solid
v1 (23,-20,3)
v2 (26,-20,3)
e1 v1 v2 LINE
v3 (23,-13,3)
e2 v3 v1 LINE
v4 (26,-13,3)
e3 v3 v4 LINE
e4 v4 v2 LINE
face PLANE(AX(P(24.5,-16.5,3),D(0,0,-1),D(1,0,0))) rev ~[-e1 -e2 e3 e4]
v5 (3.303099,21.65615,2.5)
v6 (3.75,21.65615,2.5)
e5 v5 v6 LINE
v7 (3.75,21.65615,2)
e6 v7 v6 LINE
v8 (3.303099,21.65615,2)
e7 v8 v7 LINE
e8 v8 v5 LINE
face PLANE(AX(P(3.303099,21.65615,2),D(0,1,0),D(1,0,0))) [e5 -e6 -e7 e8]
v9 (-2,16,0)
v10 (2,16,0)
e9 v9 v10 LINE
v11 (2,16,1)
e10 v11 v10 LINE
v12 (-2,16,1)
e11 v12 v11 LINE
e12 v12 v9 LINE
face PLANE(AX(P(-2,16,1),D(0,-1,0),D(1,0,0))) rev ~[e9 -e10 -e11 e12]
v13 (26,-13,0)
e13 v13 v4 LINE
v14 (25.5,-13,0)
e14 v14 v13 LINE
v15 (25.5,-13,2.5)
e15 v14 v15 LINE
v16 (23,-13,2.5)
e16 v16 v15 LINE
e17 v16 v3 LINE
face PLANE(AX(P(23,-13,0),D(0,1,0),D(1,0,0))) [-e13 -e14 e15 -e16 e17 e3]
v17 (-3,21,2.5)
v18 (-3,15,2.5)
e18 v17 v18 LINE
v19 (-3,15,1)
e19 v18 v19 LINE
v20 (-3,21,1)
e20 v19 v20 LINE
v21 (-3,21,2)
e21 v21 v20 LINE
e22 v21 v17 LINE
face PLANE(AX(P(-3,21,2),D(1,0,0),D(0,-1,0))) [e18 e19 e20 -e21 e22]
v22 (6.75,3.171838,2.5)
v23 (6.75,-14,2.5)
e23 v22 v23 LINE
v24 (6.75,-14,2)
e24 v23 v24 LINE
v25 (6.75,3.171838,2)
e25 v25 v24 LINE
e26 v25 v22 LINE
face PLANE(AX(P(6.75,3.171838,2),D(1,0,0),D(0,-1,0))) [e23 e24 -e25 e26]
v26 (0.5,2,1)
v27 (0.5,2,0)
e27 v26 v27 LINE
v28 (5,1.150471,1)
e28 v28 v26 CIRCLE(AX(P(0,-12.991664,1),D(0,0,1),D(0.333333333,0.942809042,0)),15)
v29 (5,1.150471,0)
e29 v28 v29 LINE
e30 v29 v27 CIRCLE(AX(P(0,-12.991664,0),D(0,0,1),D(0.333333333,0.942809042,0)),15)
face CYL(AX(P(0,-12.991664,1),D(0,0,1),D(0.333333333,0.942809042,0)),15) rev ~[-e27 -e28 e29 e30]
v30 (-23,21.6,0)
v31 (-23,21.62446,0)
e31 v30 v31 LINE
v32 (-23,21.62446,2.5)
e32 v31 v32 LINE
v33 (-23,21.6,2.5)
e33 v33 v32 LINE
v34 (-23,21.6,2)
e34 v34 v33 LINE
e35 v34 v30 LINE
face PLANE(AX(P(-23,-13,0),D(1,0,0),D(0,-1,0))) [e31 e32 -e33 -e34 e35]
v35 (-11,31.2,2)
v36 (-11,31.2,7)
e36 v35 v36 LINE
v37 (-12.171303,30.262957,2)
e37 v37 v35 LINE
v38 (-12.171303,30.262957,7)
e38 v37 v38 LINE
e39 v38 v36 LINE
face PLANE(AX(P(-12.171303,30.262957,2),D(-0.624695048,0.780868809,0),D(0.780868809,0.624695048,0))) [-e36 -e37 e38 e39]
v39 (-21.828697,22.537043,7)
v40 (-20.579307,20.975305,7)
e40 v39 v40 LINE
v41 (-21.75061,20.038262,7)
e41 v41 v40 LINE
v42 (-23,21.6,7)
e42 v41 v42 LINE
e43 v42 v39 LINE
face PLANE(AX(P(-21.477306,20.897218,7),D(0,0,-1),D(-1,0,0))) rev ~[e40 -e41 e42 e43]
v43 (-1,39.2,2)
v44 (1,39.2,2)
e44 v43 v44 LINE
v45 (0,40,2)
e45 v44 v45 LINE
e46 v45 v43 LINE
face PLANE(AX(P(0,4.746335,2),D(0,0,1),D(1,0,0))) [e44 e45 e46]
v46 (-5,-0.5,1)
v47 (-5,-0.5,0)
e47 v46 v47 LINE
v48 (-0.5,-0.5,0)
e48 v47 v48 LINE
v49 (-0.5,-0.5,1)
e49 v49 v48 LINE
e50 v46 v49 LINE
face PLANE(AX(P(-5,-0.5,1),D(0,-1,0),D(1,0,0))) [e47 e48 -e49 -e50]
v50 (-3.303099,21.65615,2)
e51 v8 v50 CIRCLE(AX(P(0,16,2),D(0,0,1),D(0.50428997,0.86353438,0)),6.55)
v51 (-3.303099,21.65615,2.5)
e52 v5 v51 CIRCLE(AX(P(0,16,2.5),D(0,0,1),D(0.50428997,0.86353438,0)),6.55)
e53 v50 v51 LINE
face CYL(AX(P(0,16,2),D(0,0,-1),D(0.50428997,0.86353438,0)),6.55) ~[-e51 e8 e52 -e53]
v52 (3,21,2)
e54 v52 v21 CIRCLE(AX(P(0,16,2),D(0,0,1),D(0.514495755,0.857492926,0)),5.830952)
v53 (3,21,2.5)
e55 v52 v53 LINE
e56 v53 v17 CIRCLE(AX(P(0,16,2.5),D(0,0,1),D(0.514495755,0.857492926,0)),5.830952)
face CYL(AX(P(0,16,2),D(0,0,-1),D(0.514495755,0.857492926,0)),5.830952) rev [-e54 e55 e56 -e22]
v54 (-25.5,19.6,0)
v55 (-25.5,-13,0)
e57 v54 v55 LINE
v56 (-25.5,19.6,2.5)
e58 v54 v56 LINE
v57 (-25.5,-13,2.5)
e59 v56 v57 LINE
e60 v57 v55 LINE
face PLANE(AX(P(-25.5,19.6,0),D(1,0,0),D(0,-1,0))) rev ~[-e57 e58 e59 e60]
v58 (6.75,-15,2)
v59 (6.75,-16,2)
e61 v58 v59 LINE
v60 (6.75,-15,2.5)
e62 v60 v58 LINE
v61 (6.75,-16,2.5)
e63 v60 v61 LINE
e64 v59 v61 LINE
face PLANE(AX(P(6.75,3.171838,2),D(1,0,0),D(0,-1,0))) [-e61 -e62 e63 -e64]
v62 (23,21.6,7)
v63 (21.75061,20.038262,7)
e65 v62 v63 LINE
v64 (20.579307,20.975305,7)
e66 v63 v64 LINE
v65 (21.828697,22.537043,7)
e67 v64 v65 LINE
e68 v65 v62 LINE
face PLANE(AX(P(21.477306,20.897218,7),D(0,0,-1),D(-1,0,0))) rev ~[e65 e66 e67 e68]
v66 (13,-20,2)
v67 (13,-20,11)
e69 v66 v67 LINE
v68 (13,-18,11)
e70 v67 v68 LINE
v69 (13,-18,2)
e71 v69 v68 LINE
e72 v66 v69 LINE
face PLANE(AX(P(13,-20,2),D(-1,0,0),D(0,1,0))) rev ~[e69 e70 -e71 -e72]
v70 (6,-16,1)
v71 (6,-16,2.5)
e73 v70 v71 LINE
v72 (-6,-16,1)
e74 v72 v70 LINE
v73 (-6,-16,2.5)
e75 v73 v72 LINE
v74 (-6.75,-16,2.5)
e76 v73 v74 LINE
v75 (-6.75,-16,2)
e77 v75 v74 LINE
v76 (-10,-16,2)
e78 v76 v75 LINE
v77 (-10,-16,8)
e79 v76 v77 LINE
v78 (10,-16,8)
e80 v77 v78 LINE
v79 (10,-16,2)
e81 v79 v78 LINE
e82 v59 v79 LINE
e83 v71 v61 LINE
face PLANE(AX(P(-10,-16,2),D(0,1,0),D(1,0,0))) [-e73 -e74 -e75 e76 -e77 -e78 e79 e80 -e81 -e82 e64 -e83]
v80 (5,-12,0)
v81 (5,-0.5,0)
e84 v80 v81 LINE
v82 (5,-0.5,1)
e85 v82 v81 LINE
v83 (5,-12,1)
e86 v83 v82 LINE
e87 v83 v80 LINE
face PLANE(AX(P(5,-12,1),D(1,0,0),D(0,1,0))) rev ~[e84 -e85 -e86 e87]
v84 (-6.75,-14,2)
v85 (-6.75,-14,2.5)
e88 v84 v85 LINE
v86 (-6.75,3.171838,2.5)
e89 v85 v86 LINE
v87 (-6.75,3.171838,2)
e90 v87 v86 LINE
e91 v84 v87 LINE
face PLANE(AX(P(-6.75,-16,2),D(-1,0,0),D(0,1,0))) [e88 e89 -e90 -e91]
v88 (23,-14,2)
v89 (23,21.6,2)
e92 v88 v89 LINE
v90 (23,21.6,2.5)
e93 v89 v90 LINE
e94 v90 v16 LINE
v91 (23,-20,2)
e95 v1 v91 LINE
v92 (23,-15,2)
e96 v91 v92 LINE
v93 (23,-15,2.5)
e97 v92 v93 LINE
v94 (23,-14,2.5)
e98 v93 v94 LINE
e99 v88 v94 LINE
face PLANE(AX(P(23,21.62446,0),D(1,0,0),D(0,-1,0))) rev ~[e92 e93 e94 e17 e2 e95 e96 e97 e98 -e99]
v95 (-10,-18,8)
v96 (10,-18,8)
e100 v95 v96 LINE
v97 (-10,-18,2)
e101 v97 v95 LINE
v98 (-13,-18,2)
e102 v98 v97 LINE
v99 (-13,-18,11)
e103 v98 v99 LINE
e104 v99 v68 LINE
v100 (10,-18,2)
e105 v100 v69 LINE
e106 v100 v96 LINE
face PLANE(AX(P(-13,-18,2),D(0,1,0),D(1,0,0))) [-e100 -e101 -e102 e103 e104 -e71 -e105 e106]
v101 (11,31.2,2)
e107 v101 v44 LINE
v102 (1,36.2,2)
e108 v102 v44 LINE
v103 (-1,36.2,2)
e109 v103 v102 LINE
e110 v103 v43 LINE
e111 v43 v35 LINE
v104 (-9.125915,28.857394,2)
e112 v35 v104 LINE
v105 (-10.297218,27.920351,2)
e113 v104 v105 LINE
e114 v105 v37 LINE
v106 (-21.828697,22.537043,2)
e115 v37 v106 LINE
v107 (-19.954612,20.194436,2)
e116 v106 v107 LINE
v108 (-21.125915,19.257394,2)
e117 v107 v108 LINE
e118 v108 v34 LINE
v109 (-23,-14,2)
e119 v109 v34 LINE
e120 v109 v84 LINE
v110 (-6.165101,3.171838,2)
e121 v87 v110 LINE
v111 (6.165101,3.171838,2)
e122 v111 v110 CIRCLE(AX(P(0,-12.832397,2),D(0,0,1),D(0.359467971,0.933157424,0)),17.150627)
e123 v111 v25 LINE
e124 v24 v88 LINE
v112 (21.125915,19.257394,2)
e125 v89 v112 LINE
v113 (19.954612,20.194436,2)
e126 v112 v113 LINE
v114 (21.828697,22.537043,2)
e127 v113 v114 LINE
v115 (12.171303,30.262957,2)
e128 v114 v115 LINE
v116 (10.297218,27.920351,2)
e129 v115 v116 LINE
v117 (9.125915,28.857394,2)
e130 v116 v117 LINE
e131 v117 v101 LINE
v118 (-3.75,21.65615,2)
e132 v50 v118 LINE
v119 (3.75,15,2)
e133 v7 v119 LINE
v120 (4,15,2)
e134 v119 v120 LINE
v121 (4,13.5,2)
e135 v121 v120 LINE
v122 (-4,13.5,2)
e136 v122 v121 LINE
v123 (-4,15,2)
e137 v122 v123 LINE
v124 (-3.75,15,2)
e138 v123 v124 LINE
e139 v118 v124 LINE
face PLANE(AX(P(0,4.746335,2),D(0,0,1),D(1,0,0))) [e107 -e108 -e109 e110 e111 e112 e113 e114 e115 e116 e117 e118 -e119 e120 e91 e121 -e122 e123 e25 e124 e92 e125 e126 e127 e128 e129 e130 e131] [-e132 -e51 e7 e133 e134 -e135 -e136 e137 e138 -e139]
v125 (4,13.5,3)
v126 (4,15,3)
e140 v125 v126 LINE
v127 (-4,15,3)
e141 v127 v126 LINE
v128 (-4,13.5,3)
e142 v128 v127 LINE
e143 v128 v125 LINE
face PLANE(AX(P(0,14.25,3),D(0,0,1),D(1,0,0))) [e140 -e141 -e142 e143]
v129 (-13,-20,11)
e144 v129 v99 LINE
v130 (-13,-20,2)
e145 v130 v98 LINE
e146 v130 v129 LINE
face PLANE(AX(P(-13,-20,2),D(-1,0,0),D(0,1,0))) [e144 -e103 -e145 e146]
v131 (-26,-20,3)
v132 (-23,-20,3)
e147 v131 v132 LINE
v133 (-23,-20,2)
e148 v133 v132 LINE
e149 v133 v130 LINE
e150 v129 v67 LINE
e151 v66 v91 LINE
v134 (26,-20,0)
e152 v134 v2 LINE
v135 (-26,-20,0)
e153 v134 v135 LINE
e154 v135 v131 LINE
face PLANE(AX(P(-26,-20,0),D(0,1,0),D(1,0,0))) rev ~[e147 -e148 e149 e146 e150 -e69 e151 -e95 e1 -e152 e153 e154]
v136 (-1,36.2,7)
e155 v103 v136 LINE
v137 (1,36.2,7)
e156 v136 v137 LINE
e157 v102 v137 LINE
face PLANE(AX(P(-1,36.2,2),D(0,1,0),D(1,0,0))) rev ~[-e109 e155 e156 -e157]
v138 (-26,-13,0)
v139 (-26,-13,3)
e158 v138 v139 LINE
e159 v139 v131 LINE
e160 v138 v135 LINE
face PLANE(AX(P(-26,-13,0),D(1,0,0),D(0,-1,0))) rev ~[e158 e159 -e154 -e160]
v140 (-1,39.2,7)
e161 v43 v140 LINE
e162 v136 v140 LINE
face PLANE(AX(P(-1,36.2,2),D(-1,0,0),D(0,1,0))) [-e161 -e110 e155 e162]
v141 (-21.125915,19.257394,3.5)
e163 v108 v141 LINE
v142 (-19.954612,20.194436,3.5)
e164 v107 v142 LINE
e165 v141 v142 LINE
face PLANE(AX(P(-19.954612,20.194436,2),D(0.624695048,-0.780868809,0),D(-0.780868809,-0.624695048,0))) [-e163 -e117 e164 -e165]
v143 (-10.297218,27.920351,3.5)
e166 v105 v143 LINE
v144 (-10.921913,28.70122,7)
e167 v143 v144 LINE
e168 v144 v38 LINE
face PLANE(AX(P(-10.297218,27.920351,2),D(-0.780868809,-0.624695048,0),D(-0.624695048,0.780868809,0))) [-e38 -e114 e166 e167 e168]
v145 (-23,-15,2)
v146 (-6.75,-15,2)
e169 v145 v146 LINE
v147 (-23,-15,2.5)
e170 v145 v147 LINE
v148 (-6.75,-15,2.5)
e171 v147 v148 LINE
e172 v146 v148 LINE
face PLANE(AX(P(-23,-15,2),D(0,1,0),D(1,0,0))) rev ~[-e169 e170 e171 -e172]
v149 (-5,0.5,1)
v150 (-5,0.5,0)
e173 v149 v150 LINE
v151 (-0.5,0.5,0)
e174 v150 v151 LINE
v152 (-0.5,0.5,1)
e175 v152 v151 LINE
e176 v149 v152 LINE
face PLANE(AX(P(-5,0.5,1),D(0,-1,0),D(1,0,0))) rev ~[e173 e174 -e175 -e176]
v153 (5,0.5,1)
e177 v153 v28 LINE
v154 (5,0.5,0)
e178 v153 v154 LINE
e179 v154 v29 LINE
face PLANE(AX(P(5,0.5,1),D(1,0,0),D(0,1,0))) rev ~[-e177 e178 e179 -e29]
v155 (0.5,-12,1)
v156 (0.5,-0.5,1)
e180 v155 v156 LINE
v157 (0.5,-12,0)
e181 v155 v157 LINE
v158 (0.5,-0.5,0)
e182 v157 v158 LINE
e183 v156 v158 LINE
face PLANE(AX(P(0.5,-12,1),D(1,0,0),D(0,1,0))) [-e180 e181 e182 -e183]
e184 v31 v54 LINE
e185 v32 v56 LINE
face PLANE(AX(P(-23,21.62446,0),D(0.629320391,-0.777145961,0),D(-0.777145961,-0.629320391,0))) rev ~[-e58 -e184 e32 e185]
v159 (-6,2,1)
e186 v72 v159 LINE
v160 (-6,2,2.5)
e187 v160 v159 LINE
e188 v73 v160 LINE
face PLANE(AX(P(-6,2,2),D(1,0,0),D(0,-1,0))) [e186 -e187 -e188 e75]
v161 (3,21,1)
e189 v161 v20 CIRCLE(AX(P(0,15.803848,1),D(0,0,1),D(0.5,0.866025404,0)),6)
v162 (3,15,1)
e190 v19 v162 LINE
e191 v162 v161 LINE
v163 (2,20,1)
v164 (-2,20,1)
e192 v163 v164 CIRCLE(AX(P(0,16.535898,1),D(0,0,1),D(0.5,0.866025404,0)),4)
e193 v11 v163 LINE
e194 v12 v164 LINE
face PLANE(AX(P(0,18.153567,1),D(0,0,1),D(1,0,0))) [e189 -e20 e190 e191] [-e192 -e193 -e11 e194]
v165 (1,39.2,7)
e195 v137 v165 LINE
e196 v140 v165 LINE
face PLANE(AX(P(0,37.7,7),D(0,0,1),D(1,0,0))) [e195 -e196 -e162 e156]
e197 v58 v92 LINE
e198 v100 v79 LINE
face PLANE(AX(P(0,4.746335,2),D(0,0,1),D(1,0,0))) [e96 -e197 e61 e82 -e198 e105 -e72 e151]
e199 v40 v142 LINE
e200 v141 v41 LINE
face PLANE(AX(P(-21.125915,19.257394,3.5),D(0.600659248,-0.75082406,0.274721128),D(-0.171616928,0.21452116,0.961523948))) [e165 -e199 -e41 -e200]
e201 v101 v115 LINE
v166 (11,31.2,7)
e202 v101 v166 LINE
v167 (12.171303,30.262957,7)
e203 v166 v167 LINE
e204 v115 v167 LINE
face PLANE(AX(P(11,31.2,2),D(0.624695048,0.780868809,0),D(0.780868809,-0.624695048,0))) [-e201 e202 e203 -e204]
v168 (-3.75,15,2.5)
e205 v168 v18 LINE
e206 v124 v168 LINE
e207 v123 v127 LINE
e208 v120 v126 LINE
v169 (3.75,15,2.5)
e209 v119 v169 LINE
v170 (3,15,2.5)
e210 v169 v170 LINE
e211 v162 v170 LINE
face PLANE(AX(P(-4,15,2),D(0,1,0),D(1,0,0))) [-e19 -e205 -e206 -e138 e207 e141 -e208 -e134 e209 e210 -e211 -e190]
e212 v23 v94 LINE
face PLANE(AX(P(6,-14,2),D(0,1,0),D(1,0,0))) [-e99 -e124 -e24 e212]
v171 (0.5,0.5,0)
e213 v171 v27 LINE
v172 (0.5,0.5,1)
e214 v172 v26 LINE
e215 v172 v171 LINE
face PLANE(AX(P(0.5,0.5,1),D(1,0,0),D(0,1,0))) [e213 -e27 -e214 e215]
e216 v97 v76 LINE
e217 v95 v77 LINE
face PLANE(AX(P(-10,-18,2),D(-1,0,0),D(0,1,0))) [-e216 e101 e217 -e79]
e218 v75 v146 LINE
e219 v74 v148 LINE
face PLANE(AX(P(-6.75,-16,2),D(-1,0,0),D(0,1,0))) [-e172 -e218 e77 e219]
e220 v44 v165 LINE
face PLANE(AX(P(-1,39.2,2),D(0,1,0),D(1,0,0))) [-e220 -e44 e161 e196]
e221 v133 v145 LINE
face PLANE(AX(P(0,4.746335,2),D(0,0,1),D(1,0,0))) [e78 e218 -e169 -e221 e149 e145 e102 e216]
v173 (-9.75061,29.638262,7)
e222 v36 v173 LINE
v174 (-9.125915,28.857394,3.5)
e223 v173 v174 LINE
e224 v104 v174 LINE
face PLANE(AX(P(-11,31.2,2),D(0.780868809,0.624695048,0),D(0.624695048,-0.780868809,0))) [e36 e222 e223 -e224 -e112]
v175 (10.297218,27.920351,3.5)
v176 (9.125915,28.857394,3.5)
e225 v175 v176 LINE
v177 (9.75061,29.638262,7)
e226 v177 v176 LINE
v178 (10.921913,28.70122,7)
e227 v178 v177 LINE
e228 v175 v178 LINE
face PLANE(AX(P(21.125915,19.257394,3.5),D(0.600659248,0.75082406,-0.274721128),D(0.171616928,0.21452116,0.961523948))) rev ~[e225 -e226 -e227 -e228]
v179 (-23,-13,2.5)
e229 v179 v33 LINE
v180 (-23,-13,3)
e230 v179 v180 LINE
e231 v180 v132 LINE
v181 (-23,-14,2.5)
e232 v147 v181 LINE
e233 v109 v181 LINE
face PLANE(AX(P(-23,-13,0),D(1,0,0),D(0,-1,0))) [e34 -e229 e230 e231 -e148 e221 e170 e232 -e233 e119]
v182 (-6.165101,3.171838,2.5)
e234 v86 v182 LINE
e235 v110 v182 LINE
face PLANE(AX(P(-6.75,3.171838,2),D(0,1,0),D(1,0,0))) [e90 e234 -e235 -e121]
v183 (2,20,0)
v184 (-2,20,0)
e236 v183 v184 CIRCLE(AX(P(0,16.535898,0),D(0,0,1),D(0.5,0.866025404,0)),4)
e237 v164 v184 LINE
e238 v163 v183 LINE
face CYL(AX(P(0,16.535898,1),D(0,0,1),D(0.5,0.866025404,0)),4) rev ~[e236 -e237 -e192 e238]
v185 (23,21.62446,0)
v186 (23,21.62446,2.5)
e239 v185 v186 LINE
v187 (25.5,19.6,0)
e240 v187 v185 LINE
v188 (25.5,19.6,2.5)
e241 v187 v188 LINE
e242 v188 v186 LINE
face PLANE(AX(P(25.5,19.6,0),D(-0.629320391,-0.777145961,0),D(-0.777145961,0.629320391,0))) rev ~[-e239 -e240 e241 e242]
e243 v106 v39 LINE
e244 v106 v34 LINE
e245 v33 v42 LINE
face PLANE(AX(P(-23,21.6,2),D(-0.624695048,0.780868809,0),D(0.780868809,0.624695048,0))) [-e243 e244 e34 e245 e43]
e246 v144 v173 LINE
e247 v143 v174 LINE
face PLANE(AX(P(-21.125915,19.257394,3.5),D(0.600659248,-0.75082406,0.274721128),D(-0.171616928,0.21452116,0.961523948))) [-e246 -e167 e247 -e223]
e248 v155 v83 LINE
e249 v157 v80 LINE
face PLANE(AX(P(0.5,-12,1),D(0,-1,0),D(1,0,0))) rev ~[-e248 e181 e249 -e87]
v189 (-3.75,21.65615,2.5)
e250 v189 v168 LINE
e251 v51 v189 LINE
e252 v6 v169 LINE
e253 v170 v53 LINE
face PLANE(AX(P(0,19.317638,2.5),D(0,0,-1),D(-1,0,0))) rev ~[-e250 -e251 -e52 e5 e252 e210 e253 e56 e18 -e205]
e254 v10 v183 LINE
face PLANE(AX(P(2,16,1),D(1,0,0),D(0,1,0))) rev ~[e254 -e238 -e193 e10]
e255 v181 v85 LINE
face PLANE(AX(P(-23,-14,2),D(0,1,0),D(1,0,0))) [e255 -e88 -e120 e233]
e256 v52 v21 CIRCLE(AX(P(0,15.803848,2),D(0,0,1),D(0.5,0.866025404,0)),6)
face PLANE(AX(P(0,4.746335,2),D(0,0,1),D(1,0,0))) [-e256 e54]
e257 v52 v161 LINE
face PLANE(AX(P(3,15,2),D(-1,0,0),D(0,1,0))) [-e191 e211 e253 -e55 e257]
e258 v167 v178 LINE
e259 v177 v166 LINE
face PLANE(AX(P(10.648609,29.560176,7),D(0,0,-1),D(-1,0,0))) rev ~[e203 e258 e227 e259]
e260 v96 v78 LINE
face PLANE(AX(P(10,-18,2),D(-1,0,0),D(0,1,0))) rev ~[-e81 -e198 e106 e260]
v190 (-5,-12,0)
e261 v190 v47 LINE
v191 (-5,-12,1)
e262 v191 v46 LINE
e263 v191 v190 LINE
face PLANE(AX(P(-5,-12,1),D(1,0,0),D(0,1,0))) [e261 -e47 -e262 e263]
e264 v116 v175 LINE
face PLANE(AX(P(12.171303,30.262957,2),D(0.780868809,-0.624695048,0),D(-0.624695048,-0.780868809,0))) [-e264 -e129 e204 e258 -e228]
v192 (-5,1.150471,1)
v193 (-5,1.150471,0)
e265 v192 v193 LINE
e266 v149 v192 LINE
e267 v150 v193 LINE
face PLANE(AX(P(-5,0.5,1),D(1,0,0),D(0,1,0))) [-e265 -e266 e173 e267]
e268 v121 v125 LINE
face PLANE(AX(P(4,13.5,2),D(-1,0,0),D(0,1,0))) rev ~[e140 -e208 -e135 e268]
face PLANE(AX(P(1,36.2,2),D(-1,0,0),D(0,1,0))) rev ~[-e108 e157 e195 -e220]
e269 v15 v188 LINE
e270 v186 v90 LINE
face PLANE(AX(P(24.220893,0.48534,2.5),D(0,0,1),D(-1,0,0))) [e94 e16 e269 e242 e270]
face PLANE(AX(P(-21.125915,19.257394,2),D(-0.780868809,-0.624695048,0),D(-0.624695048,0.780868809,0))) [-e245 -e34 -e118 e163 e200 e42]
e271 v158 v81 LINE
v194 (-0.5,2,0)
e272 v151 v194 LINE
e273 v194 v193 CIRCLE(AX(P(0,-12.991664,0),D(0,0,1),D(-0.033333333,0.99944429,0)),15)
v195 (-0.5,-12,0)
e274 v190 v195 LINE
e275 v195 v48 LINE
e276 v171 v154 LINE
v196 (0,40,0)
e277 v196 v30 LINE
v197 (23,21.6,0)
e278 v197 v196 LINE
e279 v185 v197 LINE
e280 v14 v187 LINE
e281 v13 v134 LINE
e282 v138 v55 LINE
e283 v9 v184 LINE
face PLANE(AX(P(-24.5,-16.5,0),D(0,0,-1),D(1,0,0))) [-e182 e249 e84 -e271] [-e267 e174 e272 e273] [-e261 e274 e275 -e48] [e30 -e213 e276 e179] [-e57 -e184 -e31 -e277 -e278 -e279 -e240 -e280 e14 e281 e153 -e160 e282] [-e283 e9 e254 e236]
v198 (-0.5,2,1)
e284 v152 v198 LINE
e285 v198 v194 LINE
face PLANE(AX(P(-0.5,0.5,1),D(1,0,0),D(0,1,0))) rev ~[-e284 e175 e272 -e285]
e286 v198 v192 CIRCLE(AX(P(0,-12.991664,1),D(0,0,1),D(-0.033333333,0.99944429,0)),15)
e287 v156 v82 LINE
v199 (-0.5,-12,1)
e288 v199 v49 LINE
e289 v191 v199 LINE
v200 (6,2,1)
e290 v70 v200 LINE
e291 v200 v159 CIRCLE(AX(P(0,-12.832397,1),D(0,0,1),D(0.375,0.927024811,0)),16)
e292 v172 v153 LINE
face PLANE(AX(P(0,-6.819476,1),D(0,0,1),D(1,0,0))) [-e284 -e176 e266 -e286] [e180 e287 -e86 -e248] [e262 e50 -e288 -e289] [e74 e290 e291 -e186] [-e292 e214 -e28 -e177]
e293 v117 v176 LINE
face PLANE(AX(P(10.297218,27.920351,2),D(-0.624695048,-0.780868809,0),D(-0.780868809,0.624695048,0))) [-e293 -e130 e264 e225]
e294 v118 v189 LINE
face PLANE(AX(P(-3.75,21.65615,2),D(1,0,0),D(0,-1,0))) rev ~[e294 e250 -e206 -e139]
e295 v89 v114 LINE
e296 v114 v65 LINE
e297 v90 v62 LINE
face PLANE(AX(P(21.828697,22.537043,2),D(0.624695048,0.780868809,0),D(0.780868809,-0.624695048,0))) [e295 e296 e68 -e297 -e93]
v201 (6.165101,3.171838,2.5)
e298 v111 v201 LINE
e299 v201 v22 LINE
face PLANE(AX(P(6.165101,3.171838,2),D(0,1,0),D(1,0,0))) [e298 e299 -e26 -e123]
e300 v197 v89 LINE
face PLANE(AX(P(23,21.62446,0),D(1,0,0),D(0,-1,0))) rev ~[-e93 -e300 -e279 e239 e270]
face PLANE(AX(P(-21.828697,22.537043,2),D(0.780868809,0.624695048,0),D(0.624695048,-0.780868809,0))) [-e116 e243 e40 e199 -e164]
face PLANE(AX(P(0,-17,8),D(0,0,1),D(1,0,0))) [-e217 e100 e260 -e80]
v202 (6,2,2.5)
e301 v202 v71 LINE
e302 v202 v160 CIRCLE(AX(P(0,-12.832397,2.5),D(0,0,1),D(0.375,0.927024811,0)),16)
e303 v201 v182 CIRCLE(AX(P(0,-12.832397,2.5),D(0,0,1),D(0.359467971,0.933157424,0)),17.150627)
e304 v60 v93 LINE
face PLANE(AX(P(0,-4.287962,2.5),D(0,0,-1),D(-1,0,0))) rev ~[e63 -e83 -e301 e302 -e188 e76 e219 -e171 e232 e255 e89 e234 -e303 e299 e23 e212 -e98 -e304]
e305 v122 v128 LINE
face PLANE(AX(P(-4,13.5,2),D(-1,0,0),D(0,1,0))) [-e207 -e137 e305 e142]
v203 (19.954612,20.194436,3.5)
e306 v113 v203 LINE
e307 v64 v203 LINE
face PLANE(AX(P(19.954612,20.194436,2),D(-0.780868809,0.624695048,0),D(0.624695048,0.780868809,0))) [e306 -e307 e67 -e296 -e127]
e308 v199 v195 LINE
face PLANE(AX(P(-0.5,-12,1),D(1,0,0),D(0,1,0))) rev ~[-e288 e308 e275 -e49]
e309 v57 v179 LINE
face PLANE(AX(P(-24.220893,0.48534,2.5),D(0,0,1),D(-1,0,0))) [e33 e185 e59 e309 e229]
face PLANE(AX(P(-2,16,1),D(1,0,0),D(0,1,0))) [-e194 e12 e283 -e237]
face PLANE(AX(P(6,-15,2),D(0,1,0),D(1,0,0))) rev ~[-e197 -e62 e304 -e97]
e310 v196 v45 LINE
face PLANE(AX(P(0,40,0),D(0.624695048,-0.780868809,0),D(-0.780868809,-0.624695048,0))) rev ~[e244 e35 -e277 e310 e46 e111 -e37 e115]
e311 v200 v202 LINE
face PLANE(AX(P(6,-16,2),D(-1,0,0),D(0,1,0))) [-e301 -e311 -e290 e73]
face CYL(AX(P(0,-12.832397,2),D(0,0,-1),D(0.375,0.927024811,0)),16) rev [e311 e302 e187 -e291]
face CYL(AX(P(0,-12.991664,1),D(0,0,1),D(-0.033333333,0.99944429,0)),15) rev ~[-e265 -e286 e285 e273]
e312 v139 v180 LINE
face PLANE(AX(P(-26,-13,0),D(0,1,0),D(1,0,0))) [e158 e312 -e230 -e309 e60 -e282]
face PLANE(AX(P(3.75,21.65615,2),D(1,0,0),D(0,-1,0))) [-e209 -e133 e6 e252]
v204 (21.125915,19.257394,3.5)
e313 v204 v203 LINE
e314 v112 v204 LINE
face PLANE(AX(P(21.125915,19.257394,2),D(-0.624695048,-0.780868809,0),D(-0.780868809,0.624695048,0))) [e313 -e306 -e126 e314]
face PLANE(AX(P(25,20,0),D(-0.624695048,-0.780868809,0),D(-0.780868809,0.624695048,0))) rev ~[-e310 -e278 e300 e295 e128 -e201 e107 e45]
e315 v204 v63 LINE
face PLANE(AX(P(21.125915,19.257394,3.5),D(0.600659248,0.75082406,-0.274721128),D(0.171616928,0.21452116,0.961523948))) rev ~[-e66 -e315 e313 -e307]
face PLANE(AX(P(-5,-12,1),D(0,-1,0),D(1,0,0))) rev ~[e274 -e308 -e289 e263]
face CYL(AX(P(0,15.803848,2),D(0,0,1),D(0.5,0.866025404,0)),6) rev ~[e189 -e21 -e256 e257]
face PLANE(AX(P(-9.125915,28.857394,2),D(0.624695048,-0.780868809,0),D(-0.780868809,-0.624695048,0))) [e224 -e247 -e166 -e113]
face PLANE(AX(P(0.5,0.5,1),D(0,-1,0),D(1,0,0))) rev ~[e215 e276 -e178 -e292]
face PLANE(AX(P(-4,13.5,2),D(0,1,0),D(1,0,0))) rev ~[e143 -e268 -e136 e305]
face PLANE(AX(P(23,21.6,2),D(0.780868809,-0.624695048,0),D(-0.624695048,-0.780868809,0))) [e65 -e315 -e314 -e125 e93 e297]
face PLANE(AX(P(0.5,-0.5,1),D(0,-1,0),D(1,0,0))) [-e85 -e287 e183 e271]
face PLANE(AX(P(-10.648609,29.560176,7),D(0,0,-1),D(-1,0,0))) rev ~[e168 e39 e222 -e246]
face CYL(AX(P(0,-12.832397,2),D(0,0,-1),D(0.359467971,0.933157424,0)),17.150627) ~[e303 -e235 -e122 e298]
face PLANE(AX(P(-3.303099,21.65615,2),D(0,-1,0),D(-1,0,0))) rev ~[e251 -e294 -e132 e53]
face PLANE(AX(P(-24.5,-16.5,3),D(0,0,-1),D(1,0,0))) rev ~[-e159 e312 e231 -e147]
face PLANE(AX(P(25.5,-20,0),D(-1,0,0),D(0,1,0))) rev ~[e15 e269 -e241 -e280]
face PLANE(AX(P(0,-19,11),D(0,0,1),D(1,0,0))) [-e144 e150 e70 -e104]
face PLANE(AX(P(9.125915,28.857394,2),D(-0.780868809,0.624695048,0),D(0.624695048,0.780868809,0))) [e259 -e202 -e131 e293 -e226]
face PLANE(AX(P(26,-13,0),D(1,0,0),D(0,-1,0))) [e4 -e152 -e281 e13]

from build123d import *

# Parameters (mm, degrees)
PAD_DEPTH       = 2
POCKET_DEPTH    = 1
SKETCH002_W     = 4.5
SKETCH002_H     = 11.5
POCKET001_DEPTH = 5
SKETCH003_W     = 8
SKETCH003_H     = 1.5
PAD001_DEPTH    = 1
SKETCH004_W     = 26
SKETCH004_H     = 2
PAD002_DEPTH    = 9
SKETCH005_W     = 20
SKETCH005_H     = 2
PAD003_DEPTH    = 6
SKETCH006_W     = 3
SKETCH006_H     = 7
PAD004_DEPTH    = 3
PAD005_DEPTH    = 2.5
SKETCH008_W     = 17
SKETCH008_H     = 1
PAD006_DEPTH    = 0.5
PAD008_DEPTH    = 0.5
SKETCH013_W     = 2.0000000001
SKETCH013_H     = 3
PAD009_DEPTH    = 5
POCKET002_DEPTH = 20
POCKET003_DEPTH = 20


with BuildPart() as part:
    # Sketch → Pad (new body)
    with BuildSketch(Plane.XY):
        Polygon((-25, -20), (25, -20), (25, 20), (0, 40), (-25, 20), align=None)
    extrude(amount=PAD_DEPTH)

    # Sketch001 → Pocket (cut)
    with BuildSketch(Plane.XY.offset(2)):
        with BuildLine():
            Line((-3, 15), (3, 15))
            Line((3, 15), (3, 21))
            ThreePointArc((3, 21), (0, 21.8038475773), (-3, 21))
            Line((-3, 15), (-3, 21))
        make_face()
        with BuildLine():
            Line((-6, -16), (6, -16))
            Line((6, -16), (6, 2))
            ThreePointArc((6, 2), (0, 3.1676030258), (-6, 2))
            Line((-6, -16), (-6, 2))
        make_face()
    extrude(amount=-POCKET_DEPTH, mode=Mode.SUBTRACT)

    # Sketch002 → Pocket001 (cut)
    with BuildSketch(Plane.XY.offset(1)):
        with BuildLine():
            Line((-2, 16), (2, 16))
            Line((2, 16), (2, 20))
            ThreePointArc((2, 20), (0, 20.5358983849), (-2, 20))
            Line((-2, 16), (-2, 20))
        make_face()
        with Locations((-2.75, -6.25)):
            Rectangle(SKETCH002_W, SKETCH002_H)
        with Locations((2.75, -6.25)):
            Rectangle(SKETCH002_W, SKETCH002_H)
        with BuildLine():
            Line((-5, 0.5), (-0.5, 0.5))
            Line((-0.5, 0.5), (-0.5, 2))
            ThreePointArc((-0.5, 2), (-2.7826111414, 1.7479786314), (-5, 1.1504712732))
            Line((-5, 0.5), (-5, 1.1504712732))
        make_face()
        with BuildLine():
            Line((0.5, 0.5), (5, 0.5))
            Line((5, 0.5), (5, 1.1504712732))
            ThreePointArc((5, 1.1504712732), (2.7826111414, 1.7479786314), (0.5, 2))
            Line((0.5, 0.5), (0.5, 2))
        make_face()
    extrude(amount=-POCKET001_DEPTH, mode=Mode.SUBTRACT)

    # Sketch003 → Pad001 (new body)
    with BuildSketch(Plane.XY.offset(2)):
        with Locations((0, 14.25)):
            Rectangle(SKETCH003_W, SKETCH003_H)
    extrude(amount=PAD001_DEPTH)

    # Sketch004 → Pad002 (new body)
    with BuildSketch(Plane.XY.offset(2)):
        with Locations((0, -19)):
            Rectangle(SKETCH004_W, SKETCH004_H)
    extrude(amount=PAD002_DEPTH)

    # Sketch005 → Pad003 (new body)
    with BuildSketch(Plane.XY.offset(2)):
        with Locations((0, -17)):
            Rectangle(SKETCH005_W, SKETCH005_H)
    extrude(amount=PAD003_DEPTH)

    # Sketch006 → Pad004 (new body)
    with BuildSketch(Plane(origin=(0, 0, 0), x_dir=(1, 0, 0), z_dir=(0, 0, -1))):
        with Locations((-24.5, 16.5)):
            Rectangle(SKETCH006_W, SKETCH006_H)
        with Locations((24.5, 16.5)):
            Rectangle(SKETCH006_W, SKETCH006_H)
    extrude(amount=-PAD004_DEPTH)

    # Sketch007 → Pad005 (new body)
    with BuildSketch(Plane(origin=(0, 0, 0), x_dir=(1, 0, 0), z_dir=(0, 0, -1))):
        Polygon((-25.5, 20), (-23, 20), (-23, -21.624460083), (-25.5, -19.6), align=None)
        Polygon((23, 20), (25.5, 20), (25.5, -19.6), (23, -21.624460083), align=None)
    extrude(amount=-PAD005_DEPTH)

    # Sketch008 → Pad006 (new body)
    with BuildSketch(Plane.XY.offset(2)):
        with Locations((-14.5, -14.5)):
            Rectangle(SKETCH008_W, SKETCH008_H)
        with Locations((14.5, -14.5)):
            Rectangle(SKETCH008_W, SKETCH008_H)
    extrude(amount=PAD006_DEPTH)

    # Sketch012 → Pad008 (new body)
    with BuildSketch(Plane.XY.offset(2)):
        with BuildLine():
            ThreePointArc((3, 21), (0, 21.8309518948), (-3, 21))
            Line((-3, 21), (-3, 15))
            Line((-3.75, 15), (-3, 15))
            Line((-3.75, 21.6561501911), (-3.75, 15))
            Line((-3.3030993045, 21.6561501911), (-3.75, 21.6561501911))
            ThreePointArc((3.3030993045, 21.6561501911), (0, 22.55), (-3.3030993046, 21.6561501911))
            Line((3.3030993045, 21.6561501911), (3.75, 21.6561501911))
            Line((3.75, 21.6561501911), (3.75, 15))
            Line((3.75, 15), (3, 15))
            Line((3, 15), (3, 21))
        make_face()
        with BuildLine():
            Line((-6, 2), (-6, -16))
            Line((-6, -16), (-6.75, -16))
            Line((-6.75, -16), (-6.75, 3.1718383847))
            Line((-6.75, 3.1718383847), (-6.1651012574, 3.1718383847))
            ThreePointArc((6.1651012573, 3.1718383847), (0, 4.3182305052), (-6.1651012574, 3.1718383847))
            Line((6.1651012574, 3.1718383847), (6.75, 3.1718383847))
            Line((6.75, 3.1718383847), (6.75, -16))
            Line((6, -16), (6.75, -16))
            Line((6, -16), (6, 2))
            ThreePointArc((6, 2), (0, 3.1676030258), (-6, 2))
        make_face()
    extrude(amount=PAD008_DEPTH)

    # Sketch013 → Pad009 (new body)
    with BuildSketch(Plane.XY.offset(2)):
        with Locations((0, 37.7)):
            Rectangle(SKETCH013_W, SKETCH013_H)
        Polygon((-11, 31.2), (-9.1259148573, 28.8573935717), (-10.2972180715, 27.9203510003), (-12.1713032142, 30.2629574287), align=None)
        Polygon((-21.8286967858, 22.5370425713), (-19.9546116432, 20.194436143), (-21.1259148573, 19.2573935717), (-23, 21.6), align=None)
        Polygon((19.9546116432, 20.194436143), (21.8286967858, 22.5370425713), (23, 21.6), (21.1259148573, 19.2573935717), align=None)
        Polygon((11, 31.2), (12.1713032142, 30.2629574287), (10.2972180715, 27.9203510003), (9.1259148573, 28.8573935717), align=None)
    extrude(amount=PAD009_DEPTH)

    # Sketch014 → Pocket002 (cut)
    with BuildSketch(Plane(origin=(-3.4878048781, -2.7902439024, 0), x_dir=(0.6246950476, -0.7808688094, 0), z_dir=(-0.7808688094, -0.6246950476, 0))):
        Polygon((-29.2347523777, 7), (-28.2347523777, 7), (-28.2347523777, 3.5), align=None)
    extrude(amount=-POCKET002_DEPTH, mode=Mode.SUBTRACT)

    # Sketch015 → Pocket003 (cut)
    with BuildSketch(Plane(origin=(3.4878048781, -2.7902439024, 0), x_dir=(0.6246950476, 0.7808688094, 0), z_dir=(0.7808688094, -0.6246950476, 0))):
        Polygon((28.2347523777, 7), (28.2347523777, 3.5), (29.2347523777, 7), align=None)
    extrude(amount=-POCKET003_DEPTH, mode=Mode.SUBTRACT)


solid = part.part
